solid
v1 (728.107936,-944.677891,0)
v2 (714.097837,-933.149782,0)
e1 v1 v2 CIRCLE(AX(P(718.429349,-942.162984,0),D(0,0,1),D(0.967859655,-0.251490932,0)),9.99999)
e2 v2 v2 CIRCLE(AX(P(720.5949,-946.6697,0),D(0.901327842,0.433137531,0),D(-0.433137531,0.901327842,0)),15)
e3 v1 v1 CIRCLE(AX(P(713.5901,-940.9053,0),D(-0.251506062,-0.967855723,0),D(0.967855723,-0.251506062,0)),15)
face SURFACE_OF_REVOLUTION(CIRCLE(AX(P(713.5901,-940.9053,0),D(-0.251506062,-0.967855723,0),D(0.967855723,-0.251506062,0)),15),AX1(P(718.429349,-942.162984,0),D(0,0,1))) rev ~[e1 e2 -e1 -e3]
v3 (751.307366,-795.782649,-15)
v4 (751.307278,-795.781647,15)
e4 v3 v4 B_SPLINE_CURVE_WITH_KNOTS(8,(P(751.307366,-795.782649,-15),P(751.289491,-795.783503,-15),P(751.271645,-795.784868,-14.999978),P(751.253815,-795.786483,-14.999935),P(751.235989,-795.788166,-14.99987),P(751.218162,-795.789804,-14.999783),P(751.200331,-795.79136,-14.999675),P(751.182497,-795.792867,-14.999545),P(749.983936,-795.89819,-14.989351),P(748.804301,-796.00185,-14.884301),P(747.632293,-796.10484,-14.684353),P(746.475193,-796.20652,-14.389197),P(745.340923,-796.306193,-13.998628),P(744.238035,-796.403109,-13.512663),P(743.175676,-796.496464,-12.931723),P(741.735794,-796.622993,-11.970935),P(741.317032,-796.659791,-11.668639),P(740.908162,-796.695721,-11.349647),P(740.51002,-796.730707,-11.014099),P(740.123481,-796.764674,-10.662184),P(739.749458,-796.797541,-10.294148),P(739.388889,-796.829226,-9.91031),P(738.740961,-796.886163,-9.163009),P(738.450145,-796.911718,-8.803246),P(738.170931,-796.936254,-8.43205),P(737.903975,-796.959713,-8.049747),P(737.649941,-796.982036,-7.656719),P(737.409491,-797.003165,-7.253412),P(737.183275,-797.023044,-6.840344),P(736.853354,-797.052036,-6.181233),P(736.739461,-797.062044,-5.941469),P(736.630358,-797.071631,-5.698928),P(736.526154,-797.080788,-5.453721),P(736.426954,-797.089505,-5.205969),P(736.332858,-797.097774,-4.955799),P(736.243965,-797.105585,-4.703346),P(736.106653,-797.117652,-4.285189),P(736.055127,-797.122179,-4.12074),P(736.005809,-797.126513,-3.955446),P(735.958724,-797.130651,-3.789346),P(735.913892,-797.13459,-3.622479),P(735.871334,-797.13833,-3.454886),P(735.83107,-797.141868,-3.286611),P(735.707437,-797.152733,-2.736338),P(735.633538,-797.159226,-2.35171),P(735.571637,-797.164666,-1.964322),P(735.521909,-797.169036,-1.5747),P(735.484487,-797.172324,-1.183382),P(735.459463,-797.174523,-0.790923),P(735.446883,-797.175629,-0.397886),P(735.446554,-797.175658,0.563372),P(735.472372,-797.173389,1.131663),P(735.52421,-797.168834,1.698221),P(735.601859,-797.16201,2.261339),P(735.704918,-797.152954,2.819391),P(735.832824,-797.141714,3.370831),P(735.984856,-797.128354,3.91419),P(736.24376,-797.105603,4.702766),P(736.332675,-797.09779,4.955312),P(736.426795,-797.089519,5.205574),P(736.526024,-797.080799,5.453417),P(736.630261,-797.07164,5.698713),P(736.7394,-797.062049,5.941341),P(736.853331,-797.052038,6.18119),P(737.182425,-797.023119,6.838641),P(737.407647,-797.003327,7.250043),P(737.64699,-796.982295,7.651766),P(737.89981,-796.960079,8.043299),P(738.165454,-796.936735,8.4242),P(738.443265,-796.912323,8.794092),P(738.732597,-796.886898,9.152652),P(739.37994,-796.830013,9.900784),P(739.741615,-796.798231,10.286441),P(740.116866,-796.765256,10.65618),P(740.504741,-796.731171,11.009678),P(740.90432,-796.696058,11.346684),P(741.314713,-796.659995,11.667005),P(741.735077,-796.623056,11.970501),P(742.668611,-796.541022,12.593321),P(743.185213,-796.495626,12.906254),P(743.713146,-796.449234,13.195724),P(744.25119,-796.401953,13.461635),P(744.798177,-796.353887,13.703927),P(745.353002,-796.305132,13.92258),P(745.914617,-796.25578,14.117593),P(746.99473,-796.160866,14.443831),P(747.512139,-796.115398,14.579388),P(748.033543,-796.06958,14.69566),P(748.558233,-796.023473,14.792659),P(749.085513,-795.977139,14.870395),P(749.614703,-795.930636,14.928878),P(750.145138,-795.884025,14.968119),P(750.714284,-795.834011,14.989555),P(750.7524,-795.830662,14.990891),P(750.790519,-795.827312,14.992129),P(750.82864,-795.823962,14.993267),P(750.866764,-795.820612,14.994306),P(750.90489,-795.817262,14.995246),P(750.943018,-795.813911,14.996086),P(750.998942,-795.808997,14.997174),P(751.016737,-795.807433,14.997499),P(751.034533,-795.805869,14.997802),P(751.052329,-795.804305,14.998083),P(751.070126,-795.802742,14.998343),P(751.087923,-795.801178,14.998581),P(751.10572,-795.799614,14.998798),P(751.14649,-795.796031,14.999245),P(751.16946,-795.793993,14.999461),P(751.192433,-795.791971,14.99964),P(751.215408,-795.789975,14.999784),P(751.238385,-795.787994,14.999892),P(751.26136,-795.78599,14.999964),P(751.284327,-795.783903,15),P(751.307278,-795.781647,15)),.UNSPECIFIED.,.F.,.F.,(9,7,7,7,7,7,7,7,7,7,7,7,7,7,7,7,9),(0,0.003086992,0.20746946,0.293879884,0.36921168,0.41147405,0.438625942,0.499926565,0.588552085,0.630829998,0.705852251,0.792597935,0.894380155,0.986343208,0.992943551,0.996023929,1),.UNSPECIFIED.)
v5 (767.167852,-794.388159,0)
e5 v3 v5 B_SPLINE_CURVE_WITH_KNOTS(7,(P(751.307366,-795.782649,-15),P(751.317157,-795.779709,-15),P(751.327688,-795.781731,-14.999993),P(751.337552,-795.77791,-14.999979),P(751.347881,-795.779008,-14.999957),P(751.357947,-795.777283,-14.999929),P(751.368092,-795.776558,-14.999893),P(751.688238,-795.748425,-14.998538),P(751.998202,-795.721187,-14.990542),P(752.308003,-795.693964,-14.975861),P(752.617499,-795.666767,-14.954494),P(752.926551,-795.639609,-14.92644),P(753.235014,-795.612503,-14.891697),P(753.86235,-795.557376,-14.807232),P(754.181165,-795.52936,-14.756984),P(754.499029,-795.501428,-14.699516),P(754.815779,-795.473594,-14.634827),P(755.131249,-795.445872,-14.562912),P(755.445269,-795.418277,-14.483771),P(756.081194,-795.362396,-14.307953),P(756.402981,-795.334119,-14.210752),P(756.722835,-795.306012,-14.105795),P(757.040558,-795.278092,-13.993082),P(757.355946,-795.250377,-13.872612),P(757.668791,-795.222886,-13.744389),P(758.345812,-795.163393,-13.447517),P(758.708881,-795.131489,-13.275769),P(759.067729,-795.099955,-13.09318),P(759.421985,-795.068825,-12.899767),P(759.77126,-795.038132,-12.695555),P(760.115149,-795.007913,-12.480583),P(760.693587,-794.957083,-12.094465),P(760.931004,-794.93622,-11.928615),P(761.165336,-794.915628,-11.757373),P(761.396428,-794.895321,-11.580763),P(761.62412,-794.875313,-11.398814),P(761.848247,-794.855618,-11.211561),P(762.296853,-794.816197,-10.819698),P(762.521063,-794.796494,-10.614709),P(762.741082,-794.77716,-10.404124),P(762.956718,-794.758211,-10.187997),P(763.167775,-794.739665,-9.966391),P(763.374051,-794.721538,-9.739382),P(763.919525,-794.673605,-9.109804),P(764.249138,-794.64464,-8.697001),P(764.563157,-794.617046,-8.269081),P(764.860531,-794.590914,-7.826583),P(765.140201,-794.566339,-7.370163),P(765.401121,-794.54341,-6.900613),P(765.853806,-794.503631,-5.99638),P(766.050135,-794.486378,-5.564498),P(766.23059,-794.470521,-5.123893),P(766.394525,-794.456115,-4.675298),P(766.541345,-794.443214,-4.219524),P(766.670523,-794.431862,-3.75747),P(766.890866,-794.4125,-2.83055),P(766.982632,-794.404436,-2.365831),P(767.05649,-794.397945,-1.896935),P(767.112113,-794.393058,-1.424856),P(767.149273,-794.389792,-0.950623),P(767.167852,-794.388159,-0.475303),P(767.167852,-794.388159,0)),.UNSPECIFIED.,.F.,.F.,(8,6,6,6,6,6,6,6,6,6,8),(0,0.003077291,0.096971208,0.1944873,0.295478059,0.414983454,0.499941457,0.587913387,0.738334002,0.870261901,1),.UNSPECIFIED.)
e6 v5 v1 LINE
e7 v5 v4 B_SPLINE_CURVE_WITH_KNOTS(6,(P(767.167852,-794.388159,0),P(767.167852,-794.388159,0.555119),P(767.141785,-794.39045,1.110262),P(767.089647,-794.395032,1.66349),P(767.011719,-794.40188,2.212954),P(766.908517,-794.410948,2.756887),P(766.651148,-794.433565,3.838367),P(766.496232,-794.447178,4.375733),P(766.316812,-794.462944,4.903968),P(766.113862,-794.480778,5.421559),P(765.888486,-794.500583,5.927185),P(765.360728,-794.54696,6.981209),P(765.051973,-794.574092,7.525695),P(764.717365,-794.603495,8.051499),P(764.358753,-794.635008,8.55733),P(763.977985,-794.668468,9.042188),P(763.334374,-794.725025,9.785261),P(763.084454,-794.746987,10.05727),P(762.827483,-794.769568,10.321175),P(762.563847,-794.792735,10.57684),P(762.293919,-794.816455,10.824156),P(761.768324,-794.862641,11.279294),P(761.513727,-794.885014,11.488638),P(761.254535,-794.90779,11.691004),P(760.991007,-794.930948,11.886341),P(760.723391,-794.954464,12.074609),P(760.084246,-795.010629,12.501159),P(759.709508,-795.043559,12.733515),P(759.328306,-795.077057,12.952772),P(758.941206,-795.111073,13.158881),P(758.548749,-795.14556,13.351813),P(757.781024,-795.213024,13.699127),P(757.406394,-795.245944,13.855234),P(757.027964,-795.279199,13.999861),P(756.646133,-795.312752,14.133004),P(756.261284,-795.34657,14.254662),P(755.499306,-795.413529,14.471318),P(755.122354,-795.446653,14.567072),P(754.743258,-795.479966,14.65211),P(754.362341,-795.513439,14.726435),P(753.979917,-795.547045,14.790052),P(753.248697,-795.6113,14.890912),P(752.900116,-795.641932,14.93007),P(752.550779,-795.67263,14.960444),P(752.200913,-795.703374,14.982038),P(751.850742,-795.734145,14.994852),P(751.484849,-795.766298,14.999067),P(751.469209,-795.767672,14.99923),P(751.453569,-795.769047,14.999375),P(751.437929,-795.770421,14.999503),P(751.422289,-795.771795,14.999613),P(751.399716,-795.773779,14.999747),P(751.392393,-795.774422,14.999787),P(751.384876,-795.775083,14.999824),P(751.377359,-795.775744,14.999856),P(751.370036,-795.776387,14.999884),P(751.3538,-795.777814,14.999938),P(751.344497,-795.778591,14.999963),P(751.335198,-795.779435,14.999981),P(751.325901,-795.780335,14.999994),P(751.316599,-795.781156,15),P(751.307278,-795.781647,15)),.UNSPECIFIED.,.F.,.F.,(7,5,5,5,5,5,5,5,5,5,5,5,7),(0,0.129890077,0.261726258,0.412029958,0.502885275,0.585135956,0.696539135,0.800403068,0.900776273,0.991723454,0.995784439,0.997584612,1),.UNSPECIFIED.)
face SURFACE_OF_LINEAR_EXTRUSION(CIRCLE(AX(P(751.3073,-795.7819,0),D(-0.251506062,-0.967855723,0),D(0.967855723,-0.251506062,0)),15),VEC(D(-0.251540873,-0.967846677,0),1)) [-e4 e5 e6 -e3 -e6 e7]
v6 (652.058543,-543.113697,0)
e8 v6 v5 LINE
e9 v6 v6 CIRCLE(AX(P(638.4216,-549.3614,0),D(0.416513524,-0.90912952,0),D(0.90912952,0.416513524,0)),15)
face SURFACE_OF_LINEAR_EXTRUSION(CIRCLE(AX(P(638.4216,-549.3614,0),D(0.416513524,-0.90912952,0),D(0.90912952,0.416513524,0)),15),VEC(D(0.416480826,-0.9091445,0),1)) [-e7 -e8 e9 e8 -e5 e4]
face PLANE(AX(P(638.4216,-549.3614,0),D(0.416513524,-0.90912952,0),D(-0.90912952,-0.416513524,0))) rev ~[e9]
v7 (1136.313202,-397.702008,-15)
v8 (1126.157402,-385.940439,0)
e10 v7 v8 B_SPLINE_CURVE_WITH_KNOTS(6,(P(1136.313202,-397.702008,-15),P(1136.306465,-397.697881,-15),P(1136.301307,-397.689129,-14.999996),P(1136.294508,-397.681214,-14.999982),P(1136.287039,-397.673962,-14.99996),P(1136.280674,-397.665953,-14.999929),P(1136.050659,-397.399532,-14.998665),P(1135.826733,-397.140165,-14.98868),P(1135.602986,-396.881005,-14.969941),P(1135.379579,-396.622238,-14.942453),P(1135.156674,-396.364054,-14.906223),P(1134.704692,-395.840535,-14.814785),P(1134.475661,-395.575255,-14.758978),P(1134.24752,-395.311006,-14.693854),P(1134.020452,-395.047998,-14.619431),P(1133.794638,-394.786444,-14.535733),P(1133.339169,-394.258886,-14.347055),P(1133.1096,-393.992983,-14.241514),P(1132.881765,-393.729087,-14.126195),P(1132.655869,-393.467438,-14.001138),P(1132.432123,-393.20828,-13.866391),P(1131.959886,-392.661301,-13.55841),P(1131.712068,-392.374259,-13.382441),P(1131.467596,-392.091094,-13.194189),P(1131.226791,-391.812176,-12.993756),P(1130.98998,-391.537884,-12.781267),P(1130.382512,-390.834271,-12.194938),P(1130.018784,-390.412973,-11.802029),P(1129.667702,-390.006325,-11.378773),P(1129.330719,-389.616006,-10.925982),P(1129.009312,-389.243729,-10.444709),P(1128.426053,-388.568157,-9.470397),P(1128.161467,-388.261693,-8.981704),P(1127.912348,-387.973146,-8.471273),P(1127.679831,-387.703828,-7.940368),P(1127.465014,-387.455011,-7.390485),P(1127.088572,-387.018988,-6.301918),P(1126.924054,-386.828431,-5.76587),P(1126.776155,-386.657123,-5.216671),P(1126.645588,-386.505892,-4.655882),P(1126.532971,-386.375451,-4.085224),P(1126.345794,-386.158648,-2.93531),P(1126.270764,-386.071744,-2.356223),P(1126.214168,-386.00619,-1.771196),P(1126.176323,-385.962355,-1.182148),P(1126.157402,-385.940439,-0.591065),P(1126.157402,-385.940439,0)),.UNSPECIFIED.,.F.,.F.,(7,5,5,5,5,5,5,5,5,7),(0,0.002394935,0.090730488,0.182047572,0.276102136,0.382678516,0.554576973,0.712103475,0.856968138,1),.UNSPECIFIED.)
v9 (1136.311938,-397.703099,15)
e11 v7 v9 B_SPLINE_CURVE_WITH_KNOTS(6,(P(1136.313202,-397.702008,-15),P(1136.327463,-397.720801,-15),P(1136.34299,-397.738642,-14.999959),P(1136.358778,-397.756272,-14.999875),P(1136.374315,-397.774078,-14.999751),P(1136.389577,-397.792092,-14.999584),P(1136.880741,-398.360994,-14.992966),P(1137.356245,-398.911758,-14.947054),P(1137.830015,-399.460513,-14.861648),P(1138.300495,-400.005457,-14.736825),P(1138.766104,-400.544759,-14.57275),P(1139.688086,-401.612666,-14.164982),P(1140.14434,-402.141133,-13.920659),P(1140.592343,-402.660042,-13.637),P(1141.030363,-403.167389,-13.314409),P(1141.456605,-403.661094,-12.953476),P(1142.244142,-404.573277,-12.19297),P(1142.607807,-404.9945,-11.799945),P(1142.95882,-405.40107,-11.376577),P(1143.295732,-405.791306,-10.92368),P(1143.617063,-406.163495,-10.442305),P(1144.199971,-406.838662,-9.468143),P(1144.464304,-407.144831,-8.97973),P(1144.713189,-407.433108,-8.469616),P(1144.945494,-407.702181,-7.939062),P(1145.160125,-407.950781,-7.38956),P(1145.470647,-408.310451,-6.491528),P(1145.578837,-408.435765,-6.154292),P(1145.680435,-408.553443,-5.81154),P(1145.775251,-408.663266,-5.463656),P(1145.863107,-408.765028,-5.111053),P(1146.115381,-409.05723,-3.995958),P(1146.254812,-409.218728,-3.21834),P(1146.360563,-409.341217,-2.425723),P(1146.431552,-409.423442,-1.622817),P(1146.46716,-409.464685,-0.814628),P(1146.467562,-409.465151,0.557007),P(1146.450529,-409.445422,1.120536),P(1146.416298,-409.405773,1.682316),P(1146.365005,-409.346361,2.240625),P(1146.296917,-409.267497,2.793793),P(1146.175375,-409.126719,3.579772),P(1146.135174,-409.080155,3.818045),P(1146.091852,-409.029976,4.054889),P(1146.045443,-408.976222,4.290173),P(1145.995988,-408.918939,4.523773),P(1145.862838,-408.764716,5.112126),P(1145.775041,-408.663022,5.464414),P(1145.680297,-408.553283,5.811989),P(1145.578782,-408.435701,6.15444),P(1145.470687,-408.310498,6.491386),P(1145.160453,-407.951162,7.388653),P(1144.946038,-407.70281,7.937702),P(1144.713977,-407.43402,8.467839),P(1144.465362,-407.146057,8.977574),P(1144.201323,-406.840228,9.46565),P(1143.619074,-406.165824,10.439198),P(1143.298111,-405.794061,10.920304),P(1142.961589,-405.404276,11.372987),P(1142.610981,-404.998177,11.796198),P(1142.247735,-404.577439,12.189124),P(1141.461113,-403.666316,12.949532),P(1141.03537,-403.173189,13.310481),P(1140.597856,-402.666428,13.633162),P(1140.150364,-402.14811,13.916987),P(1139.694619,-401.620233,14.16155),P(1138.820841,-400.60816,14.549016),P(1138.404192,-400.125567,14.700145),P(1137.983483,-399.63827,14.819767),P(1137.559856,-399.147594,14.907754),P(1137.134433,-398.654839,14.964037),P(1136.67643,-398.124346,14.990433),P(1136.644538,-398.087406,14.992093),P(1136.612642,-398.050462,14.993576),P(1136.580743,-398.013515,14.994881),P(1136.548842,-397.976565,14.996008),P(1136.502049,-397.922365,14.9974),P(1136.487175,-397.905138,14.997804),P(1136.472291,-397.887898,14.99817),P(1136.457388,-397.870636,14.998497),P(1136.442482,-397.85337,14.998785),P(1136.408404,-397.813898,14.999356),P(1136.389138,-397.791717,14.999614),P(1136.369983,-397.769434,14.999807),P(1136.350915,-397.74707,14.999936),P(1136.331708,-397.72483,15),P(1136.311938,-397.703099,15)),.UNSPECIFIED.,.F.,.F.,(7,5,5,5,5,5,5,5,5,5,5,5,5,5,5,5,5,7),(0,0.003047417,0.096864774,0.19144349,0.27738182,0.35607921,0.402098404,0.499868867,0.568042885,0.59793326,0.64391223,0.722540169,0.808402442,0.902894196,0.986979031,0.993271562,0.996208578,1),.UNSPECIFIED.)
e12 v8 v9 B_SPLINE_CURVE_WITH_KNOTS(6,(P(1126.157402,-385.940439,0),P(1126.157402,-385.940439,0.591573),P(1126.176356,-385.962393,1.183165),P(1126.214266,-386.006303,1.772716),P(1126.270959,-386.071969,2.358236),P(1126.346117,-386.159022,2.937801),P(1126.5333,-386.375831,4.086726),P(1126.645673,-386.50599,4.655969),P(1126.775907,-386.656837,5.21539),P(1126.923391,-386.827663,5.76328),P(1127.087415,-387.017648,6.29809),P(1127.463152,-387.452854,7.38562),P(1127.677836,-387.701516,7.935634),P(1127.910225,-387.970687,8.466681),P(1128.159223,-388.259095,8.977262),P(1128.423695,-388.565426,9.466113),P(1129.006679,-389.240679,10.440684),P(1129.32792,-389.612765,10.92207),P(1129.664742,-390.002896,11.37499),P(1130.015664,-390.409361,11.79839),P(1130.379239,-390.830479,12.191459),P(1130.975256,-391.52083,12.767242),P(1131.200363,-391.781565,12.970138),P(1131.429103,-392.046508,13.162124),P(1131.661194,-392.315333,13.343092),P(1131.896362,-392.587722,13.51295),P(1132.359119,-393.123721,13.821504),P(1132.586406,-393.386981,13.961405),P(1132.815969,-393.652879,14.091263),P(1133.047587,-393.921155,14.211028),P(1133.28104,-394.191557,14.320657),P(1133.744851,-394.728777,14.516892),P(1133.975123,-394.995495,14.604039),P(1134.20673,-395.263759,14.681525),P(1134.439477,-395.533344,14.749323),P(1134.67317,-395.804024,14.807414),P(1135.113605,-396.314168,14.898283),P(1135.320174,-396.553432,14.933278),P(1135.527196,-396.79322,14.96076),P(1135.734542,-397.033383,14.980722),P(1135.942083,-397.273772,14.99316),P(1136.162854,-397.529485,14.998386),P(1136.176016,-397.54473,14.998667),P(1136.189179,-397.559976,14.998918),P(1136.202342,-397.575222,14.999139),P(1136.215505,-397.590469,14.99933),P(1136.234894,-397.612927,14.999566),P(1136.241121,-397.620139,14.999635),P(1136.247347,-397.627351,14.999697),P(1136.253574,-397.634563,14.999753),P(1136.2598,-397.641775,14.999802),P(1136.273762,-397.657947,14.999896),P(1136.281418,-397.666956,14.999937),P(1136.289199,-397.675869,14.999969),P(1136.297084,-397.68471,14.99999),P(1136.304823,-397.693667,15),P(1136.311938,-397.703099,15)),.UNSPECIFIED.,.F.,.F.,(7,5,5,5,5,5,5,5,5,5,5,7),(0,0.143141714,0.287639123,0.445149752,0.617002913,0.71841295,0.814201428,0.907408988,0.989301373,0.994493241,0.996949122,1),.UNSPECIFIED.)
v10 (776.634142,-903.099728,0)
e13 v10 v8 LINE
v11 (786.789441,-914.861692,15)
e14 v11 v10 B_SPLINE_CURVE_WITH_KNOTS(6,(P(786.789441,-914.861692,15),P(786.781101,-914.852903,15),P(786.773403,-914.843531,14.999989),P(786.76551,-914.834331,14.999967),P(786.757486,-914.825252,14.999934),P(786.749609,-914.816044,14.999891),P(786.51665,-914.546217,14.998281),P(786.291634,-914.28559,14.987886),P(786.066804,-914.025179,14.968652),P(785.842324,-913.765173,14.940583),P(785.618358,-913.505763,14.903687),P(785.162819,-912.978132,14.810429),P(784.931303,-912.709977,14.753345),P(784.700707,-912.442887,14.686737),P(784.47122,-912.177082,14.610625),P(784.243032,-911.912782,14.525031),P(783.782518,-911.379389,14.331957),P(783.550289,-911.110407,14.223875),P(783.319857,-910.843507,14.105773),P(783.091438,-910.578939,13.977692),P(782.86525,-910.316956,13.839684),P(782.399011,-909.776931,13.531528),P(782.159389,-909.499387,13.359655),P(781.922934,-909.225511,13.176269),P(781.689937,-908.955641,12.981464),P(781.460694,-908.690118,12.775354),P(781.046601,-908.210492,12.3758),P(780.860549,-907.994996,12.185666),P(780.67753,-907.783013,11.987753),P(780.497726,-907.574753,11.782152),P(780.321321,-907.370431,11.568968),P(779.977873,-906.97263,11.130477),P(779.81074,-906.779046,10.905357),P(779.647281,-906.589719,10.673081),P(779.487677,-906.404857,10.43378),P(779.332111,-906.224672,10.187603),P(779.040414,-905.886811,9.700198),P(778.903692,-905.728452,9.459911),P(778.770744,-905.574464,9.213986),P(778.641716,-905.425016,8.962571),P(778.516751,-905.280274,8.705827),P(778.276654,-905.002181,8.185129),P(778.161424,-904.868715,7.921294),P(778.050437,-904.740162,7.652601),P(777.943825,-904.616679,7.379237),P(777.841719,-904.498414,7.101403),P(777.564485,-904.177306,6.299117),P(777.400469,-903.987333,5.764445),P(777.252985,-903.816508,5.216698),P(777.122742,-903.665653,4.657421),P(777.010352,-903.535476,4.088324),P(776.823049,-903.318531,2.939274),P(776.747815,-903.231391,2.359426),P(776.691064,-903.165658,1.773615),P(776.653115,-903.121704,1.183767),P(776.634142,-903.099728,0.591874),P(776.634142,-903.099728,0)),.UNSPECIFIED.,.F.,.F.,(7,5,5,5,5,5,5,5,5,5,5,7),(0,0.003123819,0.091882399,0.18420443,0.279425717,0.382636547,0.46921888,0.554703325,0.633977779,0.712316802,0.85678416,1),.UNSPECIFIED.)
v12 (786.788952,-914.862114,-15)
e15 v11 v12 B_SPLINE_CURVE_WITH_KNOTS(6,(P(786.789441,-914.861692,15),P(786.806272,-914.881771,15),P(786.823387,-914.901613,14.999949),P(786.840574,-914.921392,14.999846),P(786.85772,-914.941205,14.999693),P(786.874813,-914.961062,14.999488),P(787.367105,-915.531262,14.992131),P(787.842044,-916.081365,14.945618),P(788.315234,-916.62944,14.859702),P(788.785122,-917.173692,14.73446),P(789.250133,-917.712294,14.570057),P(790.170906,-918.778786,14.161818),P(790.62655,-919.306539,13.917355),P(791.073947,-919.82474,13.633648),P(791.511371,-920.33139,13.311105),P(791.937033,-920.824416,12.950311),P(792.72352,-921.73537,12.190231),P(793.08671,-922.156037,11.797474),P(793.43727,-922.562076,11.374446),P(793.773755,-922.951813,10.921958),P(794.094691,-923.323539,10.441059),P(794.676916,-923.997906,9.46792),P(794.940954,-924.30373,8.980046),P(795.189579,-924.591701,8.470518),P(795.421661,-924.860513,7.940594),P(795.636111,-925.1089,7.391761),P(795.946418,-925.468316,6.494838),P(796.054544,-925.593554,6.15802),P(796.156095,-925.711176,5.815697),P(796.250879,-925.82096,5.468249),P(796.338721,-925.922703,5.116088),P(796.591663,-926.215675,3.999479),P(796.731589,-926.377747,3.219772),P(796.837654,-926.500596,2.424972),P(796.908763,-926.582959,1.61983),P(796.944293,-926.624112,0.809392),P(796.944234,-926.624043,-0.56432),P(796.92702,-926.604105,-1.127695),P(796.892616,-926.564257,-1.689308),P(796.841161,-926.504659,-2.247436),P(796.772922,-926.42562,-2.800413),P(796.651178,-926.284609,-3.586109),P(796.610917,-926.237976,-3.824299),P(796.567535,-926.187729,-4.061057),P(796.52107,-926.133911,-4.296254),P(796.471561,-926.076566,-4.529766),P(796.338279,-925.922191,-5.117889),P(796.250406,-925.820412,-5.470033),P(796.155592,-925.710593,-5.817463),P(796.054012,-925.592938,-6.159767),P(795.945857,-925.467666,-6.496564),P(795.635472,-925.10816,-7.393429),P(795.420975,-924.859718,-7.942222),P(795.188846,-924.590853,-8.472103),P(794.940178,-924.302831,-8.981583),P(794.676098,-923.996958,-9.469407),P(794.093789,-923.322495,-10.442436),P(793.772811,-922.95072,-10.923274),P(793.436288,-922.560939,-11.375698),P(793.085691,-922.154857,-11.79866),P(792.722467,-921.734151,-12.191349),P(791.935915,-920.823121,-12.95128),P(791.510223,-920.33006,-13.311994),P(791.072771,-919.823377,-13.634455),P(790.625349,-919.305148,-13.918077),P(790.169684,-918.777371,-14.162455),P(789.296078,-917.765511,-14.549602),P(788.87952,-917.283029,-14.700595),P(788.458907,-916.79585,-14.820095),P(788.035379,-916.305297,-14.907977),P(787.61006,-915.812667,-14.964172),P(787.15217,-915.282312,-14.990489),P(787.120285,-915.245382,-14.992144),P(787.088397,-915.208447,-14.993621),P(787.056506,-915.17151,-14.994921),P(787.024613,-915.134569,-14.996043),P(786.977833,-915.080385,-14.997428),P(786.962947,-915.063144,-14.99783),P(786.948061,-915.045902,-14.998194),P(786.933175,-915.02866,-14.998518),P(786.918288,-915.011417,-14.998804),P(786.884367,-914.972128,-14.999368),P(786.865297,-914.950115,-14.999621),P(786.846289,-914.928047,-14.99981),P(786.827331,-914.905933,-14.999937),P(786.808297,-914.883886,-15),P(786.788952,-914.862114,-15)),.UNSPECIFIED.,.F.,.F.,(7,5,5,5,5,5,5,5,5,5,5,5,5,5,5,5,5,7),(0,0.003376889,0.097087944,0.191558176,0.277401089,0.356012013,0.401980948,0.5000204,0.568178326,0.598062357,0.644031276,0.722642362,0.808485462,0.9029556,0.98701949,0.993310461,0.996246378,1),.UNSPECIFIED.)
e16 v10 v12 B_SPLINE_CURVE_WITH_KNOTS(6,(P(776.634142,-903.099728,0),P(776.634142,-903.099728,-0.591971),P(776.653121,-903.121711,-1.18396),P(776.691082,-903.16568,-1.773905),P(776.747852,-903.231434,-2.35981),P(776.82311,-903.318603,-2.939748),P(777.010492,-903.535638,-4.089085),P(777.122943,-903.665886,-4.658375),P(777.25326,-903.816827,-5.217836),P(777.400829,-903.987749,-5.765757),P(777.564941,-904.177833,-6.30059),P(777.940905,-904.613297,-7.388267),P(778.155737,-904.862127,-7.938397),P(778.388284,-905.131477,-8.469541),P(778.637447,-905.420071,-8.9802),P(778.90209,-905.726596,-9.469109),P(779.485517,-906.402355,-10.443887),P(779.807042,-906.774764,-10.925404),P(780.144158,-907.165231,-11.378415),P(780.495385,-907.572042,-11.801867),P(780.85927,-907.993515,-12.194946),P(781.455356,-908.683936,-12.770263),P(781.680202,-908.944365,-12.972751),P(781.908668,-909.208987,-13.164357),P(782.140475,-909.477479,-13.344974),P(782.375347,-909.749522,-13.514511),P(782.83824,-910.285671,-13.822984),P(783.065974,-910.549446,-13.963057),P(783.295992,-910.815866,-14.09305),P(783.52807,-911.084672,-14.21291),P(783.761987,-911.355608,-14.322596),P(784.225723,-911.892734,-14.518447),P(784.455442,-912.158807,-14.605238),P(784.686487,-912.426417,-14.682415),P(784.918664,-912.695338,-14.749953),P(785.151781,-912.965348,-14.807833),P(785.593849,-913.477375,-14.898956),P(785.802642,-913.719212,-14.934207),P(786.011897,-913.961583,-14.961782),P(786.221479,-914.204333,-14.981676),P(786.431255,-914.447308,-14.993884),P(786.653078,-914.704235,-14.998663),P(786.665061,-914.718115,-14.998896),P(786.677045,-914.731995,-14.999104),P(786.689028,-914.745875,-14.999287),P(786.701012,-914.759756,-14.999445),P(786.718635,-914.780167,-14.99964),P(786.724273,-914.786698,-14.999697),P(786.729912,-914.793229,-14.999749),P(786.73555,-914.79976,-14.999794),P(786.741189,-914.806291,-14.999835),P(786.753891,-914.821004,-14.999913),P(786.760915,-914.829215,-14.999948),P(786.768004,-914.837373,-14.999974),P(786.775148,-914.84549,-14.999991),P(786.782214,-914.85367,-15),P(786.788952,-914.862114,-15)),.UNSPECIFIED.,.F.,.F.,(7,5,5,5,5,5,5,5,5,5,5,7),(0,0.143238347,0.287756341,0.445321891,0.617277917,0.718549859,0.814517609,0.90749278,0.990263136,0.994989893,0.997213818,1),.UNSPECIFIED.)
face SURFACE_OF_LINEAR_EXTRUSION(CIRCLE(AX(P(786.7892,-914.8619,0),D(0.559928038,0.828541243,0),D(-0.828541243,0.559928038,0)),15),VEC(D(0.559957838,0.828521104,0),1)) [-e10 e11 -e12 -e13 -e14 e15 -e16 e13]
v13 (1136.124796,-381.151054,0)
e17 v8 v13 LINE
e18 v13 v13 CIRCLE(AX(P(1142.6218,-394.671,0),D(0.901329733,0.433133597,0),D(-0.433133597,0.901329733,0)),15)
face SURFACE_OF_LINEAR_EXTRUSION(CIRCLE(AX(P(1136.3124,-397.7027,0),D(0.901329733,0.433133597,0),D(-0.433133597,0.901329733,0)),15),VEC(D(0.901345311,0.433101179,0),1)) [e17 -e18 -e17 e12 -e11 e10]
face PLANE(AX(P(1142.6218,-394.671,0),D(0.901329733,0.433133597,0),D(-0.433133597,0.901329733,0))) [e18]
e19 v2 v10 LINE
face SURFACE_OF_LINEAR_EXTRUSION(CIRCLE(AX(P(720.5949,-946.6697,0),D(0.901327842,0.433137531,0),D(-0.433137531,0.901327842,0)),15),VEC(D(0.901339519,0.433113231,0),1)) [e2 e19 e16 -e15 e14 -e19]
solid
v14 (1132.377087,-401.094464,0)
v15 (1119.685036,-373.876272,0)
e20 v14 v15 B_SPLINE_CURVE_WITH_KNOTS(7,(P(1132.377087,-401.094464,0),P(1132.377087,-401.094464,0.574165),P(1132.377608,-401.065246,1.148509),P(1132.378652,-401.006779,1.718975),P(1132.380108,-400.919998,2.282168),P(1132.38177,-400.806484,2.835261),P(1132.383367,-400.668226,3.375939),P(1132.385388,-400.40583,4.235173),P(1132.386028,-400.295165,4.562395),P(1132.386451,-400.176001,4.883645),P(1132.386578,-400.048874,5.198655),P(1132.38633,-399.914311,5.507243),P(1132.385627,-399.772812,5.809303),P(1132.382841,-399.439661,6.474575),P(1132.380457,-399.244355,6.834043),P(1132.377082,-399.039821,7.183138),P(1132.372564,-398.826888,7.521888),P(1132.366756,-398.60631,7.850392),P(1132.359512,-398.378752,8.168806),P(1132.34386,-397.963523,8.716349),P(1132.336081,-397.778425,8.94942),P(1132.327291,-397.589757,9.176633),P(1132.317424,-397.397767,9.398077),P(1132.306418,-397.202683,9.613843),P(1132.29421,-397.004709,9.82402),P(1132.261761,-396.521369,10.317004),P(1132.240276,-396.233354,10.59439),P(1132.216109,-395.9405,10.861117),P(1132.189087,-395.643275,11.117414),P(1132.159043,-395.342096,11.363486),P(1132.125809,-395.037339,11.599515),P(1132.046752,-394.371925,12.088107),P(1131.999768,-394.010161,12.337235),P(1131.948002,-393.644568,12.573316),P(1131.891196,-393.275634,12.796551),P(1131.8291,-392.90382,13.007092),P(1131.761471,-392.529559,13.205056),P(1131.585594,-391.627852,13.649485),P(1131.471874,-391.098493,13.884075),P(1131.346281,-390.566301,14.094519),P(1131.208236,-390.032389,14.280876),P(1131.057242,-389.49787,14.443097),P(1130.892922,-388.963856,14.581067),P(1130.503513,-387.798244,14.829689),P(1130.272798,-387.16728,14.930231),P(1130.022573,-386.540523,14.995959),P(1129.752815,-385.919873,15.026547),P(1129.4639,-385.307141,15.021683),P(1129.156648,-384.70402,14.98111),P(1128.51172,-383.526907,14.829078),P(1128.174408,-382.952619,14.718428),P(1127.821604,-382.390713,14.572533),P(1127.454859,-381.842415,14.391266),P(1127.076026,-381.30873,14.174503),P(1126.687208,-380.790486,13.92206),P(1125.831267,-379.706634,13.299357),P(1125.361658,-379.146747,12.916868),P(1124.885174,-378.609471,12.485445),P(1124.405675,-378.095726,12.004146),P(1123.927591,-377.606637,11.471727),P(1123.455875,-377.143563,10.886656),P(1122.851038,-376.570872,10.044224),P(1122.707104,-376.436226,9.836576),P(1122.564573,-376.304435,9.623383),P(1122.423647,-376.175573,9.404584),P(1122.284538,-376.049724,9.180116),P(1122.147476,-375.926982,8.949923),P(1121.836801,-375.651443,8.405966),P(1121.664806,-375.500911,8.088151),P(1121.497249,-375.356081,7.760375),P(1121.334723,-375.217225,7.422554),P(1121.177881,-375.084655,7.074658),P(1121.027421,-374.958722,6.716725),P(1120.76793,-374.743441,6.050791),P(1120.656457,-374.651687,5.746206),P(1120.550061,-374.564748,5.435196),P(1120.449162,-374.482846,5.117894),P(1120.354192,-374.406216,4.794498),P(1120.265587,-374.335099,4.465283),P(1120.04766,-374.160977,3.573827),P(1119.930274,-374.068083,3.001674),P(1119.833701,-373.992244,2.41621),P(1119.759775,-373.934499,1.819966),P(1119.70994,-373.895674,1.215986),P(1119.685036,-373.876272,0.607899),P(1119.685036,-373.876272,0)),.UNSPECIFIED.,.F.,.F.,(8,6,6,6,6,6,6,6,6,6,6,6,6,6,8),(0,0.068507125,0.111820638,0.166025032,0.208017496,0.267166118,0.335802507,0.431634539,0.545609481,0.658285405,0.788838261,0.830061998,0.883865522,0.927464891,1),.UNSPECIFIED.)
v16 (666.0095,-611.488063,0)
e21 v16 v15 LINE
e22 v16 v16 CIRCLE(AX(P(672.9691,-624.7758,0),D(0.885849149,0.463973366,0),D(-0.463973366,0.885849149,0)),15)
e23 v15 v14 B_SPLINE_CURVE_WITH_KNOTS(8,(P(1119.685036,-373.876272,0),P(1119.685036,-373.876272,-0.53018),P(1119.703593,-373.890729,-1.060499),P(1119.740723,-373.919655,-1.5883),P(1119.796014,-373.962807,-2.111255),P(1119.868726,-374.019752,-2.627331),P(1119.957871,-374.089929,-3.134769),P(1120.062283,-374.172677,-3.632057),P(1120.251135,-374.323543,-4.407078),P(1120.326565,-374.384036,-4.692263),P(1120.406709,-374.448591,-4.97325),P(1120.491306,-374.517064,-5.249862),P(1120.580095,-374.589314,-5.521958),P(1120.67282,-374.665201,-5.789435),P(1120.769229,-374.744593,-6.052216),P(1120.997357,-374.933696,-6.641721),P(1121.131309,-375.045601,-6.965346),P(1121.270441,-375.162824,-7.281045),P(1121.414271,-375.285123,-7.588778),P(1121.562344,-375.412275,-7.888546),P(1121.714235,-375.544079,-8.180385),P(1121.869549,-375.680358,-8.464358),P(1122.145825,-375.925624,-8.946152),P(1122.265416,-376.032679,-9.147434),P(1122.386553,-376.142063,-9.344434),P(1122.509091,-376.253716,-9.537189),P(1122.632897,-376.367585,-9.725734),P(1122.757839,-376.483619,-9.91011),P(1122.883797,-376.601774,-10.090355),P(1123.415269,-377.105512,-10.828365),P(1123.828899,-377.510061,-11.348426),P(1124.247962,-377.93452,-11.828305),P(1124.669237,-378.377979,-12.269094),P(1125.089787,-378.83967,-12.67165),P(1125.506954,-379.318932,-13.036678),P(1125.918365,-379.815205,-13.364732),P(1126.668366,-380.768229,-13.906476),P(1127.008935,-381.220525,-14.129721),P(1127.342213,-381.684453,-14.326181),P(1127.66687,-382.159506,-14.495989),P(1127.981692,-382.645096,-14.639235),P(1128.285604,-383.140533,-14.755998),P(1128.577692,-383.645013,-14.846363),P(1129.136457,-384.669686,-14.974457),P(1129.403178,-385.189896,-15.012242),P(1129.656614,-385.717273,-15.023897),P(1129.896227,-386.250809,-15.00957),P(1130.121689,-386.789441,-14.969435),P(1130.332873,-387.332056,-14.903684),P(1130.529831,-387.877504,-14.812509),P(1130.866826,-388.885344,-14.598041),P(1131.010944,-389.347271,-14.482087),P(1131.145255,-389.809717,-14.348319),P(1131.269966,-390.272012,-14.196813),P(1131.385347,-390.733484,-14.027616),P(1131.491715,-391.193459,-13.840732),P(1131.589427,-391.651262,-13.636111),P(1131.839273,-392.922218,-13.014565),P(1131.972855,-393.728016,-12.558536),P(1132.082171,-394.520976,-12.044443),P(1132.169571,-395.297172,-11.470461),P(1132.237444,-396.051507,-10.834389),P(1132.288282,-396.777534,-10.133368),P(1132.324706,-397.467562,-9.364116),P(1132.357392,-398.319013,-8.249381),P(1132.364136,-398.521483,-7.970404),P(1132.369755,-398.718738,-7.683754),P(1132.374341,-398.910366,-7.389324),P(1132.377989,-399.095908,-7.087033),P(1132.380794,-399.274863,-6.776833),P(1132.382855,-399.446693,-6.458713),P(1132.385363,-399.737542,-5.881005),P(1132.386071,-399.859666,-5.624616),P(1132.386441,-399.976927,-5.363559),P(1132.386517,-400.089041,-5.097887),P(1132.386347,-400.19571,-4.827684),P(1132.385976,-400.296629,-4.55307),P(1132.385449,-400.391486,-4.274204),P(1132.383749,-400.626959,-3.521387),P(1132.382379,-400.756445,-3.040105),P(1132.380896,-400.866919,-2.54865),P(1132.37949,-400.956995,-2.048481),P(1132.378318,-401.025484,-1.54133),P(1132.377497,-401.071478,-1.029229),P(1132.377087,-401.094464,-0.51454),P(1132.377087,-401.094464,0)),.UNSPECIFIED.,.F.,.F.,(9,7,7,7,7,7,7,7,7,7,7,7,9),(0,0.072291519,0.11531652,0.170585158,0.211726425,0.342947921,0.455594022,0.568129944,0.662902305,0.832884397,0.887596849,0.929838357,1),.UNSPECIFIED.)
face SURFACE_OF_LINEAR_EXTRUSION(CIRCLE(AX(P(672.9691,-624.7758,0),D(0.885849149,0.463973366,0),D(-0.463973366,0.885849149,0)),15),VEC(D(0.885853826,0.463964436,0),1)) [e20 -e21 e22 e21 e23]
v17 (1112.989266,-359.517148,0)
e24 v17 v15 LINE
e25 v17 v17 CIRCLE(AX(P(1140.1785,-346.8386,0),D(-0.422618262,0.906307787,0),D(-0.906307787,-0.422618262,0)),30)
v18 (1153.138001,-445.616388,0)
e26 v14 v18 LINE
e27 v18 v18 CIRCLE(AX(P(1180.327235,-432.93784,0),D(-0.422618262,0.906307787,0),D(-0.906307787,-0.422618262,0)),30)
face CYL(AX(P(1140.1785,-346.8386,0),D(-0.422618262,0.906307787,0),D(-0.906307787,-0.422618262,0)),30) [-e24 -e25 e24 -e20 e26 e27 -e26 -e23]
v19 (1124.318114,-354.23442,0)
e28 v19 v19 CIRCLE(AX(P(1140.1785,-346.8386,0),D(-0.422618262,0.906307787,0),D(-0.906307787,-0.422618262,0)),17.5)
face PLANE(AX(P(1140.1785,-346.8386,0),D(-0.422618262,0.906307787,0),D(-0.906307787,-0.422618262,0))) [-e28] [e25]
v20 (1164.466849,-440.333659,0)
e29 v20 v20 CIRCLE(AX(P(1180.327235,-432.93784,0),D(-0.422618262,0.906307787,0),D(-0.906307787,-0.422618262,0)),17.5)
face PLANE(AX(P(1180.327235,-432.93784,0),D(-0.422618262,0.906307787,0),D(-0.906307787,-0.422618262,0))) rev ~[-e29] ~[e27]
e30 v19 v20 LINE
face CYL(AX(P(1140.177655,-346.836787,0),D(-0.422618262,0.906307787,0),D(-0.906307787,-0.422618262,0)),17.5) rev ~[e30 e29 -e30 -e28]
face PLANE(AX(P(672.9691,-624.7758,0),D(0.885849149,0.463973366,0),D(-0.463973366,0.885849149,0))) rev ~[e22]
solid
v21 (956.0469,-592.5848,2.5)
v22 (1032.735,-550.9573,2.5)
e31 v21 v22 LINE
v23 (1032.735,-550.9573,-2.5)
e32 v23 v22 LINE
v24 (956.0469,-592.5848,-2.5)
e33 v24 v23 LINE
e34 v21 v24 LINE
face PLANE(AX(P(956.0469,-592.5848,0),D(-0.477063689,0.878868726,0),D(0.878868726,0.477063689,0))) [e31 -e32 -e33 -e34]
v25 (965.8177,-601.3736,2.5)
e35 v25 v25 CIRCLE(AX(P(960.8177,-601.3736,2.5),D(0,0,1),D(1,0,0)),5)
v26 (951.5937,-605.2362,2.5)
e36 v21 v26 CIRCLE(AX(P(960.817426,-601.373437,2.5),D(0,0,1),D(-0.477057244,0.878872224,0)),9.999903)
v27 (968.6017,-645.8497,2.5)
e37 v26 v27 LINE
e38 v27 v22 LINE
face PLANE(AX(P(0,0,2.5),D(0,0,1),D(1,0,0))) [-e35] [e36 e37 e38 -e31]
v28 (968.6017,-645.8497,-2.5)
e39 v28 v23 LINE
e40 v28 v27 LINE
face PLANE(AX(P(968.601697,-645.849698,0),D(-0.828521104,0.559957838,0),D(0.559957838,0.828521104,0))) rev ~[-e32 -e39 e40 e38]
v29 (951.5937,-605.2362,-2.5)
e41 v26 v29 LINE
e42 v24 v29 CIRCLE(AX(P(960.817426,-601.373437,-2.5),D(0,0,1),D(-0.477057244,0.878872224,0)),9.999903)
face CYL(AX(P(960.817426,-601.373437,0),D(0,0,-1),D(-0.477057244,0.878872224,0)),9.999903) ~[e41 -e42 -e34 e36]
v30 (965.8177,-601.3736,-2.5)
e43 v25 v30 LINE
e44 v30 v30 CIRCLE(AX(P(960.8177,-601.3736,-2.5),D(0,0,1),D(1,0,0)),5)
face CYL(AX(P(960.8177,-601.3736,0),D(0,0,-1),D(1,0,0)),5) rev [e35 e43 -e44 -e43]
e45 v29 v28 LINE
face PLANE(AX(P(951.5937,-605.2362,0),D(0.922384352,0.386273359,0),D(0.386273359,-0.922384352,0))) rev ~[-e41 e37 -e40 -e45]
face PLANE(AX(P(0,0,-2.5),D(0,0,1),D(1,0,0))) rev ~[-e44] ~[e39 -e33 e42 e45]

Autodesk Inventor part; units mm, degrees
sketch "草圖2" plane through (0, 0, 0) normal (0, 0, 1) x (1, 0, 0)
  line L0 (0, 0) -> (2326.9129, -0.931) construction
  line L1 (2326.9129, -0.931) -> (2326.3916, -1303.9311) construction
  line L2 (2326.3916, -1303.9311) -> (-0.5213, -1303.0001) construction
  line L3 (-0.5213, -1303.0001) -> (0, 0) construction
  line L4 (720.5949, -946.6697) -> (786.7892, -914.8619)
  line L5 (672.9691, -624.7758) -> (1152.635, -373.5516)
  line L6 (669.6641, -806.0741) -> (1364.2388, -806.0741)
  line L7 (710.8785, -951.3386) -> (545.7785, -356.0073)
  line L8 (1180.3272, -432.9379) -> (1140.1785, -346.8386)
  line L9 (710.8785, -951.3386) -> (710.8785, -1299.3386)
  line L10 (638.4216, -549.3614) -> (751.3073, -795.7819)
  line L11 (751.3073, -795.7819) -> (713.5901, -940.9053)
  line L12 (786.7892, -914.8619) -> (1136.3124, -397.7027)
  line L13 (951.5937, -605.2362) -> (968.6017, -645.8497)
  line L14 (956.0469, -592.5848) -> (1032.735, -550.9573)
  circle A0 centre (960.8177, -601.3736) radius 5
  arc A1 (713.5901, -940.9053) -> (720.5949, -946.6697) centre (718.4293, -942.163) ccw
  line L15 (271.3556, -930.1858) -> (649.2771, -969.8768)
  line L16 (726.1503, -692.8447) -> (649.2771, -969.8768)
  line L17 (726.1503, -692.8447) -> (271.3556, -930.1858)
  line L18 (649.2771, -969.8768) -> (673.3417, -883.1537)
  line L19 (673.3417, -883.1537) -> (271.3556, -930.1858)
  line L20 (678.9646, -885.9308) -> (725.6462, -880.4691)
  arc A2 (956.0469, -592.5848) -> (951.5937, -605.2362) centre (960.8175, -601.3735) ccw
  line L21 (1136.3124, -397.7027) -> (1142.6218, -394.671)
  point P0 (949.8477, -601.0669)
  point P1 (952.0743, -594.7412)
  point P2 (960.8175, -601.3735)
  point P3 (960.8175, -601.3735)
  dimension "d18" = 65
  dimension "d24" = 95
  dimension "d27" = 604.5
  dimension "d28" = 594.4
  dimension "d29" = 348
  dimension "d41" = 429.3
  dimension "d43" = 674.5628
  dimension "d71" = 10
  dimension "d92" = 5
  dimension "d106" = 74.5
  dimension "d107" = 31.354
  dimension "d131" = 393.7
  dimension "d133" = 380
  dimension "d135" = 513
  dimension "d136" = 287.5
  dimension "d138" = 90
  dimension "d140" = 47
  dimension "d144" = 10
  dimension "d145" = 10
  dimension "d167" = 7
ref_plane "工作平面2" through (672.9691, -624.7758, 0) normal (0.8859, 0.464, 0) x (-0.464, 0.8859, 0)
sketch "草圖4" plane through (672.9691, -624.7758, 0) normal (0.8859, 0.464, 0) x (-0.464, 0.8859, 0)
  circle A0 centre (0, 0) radius 15
  point P0 (865.6938, 0)
  dimension "d44" = 30
sweep "掃掠1" add profiles "草圖4" path "草圖2" path curves L5
ref_plane "工作平面3" through (638.4216, -549.3614, 0) normal (0.4165, -0.9091, 0) x (0.9091, 0.4165, 0)
sketch "草圖5" plane through (638.4216, -549.3614, 0) normal (0.4165, -0.9091, 0) x (0.9091, 0.4165, 0)
  circle A0 centre (0, 0) radius 15
  point P0 (-351.6187, 0)
  dimension "d47" = 30
sweep "掃掠2" add profiles "草圖5" path "草圖2" separate body path curves L10 L11 A1 L4 L12 L21
ref_plane "工作平面4" through (1140.1785, -346.8386, 0) normal (-0.4226, 0.9063, 0) x (-0.9063, -0.4226, 0)
sketch "草圖6" plane through (1140.1785, -346.8386, 0) normal (-0.4226, 0.9063, 0) x (-0.9063, -0.4226, 0)
  circle A0 centre (0, 0) radius 17.5
  circle A1 centre (0, 0) radius 30
  point P0 (886.7723, 0)
  dimension "d50" = 35
  dimension "d51" = 60
extrude "擠出1" add sketch "草圖6" against normal blind 95 contours A0 | A1 bodies 1
extrude "擠出2" cut sketch "草圖6" against normal blind 95 contours A0 bodies 1
extrude "擠出3" add sketch "草圖2" along normal mid plane 5 contours L13 A2 L14 L12 bodies 1
properties part number "車架"
